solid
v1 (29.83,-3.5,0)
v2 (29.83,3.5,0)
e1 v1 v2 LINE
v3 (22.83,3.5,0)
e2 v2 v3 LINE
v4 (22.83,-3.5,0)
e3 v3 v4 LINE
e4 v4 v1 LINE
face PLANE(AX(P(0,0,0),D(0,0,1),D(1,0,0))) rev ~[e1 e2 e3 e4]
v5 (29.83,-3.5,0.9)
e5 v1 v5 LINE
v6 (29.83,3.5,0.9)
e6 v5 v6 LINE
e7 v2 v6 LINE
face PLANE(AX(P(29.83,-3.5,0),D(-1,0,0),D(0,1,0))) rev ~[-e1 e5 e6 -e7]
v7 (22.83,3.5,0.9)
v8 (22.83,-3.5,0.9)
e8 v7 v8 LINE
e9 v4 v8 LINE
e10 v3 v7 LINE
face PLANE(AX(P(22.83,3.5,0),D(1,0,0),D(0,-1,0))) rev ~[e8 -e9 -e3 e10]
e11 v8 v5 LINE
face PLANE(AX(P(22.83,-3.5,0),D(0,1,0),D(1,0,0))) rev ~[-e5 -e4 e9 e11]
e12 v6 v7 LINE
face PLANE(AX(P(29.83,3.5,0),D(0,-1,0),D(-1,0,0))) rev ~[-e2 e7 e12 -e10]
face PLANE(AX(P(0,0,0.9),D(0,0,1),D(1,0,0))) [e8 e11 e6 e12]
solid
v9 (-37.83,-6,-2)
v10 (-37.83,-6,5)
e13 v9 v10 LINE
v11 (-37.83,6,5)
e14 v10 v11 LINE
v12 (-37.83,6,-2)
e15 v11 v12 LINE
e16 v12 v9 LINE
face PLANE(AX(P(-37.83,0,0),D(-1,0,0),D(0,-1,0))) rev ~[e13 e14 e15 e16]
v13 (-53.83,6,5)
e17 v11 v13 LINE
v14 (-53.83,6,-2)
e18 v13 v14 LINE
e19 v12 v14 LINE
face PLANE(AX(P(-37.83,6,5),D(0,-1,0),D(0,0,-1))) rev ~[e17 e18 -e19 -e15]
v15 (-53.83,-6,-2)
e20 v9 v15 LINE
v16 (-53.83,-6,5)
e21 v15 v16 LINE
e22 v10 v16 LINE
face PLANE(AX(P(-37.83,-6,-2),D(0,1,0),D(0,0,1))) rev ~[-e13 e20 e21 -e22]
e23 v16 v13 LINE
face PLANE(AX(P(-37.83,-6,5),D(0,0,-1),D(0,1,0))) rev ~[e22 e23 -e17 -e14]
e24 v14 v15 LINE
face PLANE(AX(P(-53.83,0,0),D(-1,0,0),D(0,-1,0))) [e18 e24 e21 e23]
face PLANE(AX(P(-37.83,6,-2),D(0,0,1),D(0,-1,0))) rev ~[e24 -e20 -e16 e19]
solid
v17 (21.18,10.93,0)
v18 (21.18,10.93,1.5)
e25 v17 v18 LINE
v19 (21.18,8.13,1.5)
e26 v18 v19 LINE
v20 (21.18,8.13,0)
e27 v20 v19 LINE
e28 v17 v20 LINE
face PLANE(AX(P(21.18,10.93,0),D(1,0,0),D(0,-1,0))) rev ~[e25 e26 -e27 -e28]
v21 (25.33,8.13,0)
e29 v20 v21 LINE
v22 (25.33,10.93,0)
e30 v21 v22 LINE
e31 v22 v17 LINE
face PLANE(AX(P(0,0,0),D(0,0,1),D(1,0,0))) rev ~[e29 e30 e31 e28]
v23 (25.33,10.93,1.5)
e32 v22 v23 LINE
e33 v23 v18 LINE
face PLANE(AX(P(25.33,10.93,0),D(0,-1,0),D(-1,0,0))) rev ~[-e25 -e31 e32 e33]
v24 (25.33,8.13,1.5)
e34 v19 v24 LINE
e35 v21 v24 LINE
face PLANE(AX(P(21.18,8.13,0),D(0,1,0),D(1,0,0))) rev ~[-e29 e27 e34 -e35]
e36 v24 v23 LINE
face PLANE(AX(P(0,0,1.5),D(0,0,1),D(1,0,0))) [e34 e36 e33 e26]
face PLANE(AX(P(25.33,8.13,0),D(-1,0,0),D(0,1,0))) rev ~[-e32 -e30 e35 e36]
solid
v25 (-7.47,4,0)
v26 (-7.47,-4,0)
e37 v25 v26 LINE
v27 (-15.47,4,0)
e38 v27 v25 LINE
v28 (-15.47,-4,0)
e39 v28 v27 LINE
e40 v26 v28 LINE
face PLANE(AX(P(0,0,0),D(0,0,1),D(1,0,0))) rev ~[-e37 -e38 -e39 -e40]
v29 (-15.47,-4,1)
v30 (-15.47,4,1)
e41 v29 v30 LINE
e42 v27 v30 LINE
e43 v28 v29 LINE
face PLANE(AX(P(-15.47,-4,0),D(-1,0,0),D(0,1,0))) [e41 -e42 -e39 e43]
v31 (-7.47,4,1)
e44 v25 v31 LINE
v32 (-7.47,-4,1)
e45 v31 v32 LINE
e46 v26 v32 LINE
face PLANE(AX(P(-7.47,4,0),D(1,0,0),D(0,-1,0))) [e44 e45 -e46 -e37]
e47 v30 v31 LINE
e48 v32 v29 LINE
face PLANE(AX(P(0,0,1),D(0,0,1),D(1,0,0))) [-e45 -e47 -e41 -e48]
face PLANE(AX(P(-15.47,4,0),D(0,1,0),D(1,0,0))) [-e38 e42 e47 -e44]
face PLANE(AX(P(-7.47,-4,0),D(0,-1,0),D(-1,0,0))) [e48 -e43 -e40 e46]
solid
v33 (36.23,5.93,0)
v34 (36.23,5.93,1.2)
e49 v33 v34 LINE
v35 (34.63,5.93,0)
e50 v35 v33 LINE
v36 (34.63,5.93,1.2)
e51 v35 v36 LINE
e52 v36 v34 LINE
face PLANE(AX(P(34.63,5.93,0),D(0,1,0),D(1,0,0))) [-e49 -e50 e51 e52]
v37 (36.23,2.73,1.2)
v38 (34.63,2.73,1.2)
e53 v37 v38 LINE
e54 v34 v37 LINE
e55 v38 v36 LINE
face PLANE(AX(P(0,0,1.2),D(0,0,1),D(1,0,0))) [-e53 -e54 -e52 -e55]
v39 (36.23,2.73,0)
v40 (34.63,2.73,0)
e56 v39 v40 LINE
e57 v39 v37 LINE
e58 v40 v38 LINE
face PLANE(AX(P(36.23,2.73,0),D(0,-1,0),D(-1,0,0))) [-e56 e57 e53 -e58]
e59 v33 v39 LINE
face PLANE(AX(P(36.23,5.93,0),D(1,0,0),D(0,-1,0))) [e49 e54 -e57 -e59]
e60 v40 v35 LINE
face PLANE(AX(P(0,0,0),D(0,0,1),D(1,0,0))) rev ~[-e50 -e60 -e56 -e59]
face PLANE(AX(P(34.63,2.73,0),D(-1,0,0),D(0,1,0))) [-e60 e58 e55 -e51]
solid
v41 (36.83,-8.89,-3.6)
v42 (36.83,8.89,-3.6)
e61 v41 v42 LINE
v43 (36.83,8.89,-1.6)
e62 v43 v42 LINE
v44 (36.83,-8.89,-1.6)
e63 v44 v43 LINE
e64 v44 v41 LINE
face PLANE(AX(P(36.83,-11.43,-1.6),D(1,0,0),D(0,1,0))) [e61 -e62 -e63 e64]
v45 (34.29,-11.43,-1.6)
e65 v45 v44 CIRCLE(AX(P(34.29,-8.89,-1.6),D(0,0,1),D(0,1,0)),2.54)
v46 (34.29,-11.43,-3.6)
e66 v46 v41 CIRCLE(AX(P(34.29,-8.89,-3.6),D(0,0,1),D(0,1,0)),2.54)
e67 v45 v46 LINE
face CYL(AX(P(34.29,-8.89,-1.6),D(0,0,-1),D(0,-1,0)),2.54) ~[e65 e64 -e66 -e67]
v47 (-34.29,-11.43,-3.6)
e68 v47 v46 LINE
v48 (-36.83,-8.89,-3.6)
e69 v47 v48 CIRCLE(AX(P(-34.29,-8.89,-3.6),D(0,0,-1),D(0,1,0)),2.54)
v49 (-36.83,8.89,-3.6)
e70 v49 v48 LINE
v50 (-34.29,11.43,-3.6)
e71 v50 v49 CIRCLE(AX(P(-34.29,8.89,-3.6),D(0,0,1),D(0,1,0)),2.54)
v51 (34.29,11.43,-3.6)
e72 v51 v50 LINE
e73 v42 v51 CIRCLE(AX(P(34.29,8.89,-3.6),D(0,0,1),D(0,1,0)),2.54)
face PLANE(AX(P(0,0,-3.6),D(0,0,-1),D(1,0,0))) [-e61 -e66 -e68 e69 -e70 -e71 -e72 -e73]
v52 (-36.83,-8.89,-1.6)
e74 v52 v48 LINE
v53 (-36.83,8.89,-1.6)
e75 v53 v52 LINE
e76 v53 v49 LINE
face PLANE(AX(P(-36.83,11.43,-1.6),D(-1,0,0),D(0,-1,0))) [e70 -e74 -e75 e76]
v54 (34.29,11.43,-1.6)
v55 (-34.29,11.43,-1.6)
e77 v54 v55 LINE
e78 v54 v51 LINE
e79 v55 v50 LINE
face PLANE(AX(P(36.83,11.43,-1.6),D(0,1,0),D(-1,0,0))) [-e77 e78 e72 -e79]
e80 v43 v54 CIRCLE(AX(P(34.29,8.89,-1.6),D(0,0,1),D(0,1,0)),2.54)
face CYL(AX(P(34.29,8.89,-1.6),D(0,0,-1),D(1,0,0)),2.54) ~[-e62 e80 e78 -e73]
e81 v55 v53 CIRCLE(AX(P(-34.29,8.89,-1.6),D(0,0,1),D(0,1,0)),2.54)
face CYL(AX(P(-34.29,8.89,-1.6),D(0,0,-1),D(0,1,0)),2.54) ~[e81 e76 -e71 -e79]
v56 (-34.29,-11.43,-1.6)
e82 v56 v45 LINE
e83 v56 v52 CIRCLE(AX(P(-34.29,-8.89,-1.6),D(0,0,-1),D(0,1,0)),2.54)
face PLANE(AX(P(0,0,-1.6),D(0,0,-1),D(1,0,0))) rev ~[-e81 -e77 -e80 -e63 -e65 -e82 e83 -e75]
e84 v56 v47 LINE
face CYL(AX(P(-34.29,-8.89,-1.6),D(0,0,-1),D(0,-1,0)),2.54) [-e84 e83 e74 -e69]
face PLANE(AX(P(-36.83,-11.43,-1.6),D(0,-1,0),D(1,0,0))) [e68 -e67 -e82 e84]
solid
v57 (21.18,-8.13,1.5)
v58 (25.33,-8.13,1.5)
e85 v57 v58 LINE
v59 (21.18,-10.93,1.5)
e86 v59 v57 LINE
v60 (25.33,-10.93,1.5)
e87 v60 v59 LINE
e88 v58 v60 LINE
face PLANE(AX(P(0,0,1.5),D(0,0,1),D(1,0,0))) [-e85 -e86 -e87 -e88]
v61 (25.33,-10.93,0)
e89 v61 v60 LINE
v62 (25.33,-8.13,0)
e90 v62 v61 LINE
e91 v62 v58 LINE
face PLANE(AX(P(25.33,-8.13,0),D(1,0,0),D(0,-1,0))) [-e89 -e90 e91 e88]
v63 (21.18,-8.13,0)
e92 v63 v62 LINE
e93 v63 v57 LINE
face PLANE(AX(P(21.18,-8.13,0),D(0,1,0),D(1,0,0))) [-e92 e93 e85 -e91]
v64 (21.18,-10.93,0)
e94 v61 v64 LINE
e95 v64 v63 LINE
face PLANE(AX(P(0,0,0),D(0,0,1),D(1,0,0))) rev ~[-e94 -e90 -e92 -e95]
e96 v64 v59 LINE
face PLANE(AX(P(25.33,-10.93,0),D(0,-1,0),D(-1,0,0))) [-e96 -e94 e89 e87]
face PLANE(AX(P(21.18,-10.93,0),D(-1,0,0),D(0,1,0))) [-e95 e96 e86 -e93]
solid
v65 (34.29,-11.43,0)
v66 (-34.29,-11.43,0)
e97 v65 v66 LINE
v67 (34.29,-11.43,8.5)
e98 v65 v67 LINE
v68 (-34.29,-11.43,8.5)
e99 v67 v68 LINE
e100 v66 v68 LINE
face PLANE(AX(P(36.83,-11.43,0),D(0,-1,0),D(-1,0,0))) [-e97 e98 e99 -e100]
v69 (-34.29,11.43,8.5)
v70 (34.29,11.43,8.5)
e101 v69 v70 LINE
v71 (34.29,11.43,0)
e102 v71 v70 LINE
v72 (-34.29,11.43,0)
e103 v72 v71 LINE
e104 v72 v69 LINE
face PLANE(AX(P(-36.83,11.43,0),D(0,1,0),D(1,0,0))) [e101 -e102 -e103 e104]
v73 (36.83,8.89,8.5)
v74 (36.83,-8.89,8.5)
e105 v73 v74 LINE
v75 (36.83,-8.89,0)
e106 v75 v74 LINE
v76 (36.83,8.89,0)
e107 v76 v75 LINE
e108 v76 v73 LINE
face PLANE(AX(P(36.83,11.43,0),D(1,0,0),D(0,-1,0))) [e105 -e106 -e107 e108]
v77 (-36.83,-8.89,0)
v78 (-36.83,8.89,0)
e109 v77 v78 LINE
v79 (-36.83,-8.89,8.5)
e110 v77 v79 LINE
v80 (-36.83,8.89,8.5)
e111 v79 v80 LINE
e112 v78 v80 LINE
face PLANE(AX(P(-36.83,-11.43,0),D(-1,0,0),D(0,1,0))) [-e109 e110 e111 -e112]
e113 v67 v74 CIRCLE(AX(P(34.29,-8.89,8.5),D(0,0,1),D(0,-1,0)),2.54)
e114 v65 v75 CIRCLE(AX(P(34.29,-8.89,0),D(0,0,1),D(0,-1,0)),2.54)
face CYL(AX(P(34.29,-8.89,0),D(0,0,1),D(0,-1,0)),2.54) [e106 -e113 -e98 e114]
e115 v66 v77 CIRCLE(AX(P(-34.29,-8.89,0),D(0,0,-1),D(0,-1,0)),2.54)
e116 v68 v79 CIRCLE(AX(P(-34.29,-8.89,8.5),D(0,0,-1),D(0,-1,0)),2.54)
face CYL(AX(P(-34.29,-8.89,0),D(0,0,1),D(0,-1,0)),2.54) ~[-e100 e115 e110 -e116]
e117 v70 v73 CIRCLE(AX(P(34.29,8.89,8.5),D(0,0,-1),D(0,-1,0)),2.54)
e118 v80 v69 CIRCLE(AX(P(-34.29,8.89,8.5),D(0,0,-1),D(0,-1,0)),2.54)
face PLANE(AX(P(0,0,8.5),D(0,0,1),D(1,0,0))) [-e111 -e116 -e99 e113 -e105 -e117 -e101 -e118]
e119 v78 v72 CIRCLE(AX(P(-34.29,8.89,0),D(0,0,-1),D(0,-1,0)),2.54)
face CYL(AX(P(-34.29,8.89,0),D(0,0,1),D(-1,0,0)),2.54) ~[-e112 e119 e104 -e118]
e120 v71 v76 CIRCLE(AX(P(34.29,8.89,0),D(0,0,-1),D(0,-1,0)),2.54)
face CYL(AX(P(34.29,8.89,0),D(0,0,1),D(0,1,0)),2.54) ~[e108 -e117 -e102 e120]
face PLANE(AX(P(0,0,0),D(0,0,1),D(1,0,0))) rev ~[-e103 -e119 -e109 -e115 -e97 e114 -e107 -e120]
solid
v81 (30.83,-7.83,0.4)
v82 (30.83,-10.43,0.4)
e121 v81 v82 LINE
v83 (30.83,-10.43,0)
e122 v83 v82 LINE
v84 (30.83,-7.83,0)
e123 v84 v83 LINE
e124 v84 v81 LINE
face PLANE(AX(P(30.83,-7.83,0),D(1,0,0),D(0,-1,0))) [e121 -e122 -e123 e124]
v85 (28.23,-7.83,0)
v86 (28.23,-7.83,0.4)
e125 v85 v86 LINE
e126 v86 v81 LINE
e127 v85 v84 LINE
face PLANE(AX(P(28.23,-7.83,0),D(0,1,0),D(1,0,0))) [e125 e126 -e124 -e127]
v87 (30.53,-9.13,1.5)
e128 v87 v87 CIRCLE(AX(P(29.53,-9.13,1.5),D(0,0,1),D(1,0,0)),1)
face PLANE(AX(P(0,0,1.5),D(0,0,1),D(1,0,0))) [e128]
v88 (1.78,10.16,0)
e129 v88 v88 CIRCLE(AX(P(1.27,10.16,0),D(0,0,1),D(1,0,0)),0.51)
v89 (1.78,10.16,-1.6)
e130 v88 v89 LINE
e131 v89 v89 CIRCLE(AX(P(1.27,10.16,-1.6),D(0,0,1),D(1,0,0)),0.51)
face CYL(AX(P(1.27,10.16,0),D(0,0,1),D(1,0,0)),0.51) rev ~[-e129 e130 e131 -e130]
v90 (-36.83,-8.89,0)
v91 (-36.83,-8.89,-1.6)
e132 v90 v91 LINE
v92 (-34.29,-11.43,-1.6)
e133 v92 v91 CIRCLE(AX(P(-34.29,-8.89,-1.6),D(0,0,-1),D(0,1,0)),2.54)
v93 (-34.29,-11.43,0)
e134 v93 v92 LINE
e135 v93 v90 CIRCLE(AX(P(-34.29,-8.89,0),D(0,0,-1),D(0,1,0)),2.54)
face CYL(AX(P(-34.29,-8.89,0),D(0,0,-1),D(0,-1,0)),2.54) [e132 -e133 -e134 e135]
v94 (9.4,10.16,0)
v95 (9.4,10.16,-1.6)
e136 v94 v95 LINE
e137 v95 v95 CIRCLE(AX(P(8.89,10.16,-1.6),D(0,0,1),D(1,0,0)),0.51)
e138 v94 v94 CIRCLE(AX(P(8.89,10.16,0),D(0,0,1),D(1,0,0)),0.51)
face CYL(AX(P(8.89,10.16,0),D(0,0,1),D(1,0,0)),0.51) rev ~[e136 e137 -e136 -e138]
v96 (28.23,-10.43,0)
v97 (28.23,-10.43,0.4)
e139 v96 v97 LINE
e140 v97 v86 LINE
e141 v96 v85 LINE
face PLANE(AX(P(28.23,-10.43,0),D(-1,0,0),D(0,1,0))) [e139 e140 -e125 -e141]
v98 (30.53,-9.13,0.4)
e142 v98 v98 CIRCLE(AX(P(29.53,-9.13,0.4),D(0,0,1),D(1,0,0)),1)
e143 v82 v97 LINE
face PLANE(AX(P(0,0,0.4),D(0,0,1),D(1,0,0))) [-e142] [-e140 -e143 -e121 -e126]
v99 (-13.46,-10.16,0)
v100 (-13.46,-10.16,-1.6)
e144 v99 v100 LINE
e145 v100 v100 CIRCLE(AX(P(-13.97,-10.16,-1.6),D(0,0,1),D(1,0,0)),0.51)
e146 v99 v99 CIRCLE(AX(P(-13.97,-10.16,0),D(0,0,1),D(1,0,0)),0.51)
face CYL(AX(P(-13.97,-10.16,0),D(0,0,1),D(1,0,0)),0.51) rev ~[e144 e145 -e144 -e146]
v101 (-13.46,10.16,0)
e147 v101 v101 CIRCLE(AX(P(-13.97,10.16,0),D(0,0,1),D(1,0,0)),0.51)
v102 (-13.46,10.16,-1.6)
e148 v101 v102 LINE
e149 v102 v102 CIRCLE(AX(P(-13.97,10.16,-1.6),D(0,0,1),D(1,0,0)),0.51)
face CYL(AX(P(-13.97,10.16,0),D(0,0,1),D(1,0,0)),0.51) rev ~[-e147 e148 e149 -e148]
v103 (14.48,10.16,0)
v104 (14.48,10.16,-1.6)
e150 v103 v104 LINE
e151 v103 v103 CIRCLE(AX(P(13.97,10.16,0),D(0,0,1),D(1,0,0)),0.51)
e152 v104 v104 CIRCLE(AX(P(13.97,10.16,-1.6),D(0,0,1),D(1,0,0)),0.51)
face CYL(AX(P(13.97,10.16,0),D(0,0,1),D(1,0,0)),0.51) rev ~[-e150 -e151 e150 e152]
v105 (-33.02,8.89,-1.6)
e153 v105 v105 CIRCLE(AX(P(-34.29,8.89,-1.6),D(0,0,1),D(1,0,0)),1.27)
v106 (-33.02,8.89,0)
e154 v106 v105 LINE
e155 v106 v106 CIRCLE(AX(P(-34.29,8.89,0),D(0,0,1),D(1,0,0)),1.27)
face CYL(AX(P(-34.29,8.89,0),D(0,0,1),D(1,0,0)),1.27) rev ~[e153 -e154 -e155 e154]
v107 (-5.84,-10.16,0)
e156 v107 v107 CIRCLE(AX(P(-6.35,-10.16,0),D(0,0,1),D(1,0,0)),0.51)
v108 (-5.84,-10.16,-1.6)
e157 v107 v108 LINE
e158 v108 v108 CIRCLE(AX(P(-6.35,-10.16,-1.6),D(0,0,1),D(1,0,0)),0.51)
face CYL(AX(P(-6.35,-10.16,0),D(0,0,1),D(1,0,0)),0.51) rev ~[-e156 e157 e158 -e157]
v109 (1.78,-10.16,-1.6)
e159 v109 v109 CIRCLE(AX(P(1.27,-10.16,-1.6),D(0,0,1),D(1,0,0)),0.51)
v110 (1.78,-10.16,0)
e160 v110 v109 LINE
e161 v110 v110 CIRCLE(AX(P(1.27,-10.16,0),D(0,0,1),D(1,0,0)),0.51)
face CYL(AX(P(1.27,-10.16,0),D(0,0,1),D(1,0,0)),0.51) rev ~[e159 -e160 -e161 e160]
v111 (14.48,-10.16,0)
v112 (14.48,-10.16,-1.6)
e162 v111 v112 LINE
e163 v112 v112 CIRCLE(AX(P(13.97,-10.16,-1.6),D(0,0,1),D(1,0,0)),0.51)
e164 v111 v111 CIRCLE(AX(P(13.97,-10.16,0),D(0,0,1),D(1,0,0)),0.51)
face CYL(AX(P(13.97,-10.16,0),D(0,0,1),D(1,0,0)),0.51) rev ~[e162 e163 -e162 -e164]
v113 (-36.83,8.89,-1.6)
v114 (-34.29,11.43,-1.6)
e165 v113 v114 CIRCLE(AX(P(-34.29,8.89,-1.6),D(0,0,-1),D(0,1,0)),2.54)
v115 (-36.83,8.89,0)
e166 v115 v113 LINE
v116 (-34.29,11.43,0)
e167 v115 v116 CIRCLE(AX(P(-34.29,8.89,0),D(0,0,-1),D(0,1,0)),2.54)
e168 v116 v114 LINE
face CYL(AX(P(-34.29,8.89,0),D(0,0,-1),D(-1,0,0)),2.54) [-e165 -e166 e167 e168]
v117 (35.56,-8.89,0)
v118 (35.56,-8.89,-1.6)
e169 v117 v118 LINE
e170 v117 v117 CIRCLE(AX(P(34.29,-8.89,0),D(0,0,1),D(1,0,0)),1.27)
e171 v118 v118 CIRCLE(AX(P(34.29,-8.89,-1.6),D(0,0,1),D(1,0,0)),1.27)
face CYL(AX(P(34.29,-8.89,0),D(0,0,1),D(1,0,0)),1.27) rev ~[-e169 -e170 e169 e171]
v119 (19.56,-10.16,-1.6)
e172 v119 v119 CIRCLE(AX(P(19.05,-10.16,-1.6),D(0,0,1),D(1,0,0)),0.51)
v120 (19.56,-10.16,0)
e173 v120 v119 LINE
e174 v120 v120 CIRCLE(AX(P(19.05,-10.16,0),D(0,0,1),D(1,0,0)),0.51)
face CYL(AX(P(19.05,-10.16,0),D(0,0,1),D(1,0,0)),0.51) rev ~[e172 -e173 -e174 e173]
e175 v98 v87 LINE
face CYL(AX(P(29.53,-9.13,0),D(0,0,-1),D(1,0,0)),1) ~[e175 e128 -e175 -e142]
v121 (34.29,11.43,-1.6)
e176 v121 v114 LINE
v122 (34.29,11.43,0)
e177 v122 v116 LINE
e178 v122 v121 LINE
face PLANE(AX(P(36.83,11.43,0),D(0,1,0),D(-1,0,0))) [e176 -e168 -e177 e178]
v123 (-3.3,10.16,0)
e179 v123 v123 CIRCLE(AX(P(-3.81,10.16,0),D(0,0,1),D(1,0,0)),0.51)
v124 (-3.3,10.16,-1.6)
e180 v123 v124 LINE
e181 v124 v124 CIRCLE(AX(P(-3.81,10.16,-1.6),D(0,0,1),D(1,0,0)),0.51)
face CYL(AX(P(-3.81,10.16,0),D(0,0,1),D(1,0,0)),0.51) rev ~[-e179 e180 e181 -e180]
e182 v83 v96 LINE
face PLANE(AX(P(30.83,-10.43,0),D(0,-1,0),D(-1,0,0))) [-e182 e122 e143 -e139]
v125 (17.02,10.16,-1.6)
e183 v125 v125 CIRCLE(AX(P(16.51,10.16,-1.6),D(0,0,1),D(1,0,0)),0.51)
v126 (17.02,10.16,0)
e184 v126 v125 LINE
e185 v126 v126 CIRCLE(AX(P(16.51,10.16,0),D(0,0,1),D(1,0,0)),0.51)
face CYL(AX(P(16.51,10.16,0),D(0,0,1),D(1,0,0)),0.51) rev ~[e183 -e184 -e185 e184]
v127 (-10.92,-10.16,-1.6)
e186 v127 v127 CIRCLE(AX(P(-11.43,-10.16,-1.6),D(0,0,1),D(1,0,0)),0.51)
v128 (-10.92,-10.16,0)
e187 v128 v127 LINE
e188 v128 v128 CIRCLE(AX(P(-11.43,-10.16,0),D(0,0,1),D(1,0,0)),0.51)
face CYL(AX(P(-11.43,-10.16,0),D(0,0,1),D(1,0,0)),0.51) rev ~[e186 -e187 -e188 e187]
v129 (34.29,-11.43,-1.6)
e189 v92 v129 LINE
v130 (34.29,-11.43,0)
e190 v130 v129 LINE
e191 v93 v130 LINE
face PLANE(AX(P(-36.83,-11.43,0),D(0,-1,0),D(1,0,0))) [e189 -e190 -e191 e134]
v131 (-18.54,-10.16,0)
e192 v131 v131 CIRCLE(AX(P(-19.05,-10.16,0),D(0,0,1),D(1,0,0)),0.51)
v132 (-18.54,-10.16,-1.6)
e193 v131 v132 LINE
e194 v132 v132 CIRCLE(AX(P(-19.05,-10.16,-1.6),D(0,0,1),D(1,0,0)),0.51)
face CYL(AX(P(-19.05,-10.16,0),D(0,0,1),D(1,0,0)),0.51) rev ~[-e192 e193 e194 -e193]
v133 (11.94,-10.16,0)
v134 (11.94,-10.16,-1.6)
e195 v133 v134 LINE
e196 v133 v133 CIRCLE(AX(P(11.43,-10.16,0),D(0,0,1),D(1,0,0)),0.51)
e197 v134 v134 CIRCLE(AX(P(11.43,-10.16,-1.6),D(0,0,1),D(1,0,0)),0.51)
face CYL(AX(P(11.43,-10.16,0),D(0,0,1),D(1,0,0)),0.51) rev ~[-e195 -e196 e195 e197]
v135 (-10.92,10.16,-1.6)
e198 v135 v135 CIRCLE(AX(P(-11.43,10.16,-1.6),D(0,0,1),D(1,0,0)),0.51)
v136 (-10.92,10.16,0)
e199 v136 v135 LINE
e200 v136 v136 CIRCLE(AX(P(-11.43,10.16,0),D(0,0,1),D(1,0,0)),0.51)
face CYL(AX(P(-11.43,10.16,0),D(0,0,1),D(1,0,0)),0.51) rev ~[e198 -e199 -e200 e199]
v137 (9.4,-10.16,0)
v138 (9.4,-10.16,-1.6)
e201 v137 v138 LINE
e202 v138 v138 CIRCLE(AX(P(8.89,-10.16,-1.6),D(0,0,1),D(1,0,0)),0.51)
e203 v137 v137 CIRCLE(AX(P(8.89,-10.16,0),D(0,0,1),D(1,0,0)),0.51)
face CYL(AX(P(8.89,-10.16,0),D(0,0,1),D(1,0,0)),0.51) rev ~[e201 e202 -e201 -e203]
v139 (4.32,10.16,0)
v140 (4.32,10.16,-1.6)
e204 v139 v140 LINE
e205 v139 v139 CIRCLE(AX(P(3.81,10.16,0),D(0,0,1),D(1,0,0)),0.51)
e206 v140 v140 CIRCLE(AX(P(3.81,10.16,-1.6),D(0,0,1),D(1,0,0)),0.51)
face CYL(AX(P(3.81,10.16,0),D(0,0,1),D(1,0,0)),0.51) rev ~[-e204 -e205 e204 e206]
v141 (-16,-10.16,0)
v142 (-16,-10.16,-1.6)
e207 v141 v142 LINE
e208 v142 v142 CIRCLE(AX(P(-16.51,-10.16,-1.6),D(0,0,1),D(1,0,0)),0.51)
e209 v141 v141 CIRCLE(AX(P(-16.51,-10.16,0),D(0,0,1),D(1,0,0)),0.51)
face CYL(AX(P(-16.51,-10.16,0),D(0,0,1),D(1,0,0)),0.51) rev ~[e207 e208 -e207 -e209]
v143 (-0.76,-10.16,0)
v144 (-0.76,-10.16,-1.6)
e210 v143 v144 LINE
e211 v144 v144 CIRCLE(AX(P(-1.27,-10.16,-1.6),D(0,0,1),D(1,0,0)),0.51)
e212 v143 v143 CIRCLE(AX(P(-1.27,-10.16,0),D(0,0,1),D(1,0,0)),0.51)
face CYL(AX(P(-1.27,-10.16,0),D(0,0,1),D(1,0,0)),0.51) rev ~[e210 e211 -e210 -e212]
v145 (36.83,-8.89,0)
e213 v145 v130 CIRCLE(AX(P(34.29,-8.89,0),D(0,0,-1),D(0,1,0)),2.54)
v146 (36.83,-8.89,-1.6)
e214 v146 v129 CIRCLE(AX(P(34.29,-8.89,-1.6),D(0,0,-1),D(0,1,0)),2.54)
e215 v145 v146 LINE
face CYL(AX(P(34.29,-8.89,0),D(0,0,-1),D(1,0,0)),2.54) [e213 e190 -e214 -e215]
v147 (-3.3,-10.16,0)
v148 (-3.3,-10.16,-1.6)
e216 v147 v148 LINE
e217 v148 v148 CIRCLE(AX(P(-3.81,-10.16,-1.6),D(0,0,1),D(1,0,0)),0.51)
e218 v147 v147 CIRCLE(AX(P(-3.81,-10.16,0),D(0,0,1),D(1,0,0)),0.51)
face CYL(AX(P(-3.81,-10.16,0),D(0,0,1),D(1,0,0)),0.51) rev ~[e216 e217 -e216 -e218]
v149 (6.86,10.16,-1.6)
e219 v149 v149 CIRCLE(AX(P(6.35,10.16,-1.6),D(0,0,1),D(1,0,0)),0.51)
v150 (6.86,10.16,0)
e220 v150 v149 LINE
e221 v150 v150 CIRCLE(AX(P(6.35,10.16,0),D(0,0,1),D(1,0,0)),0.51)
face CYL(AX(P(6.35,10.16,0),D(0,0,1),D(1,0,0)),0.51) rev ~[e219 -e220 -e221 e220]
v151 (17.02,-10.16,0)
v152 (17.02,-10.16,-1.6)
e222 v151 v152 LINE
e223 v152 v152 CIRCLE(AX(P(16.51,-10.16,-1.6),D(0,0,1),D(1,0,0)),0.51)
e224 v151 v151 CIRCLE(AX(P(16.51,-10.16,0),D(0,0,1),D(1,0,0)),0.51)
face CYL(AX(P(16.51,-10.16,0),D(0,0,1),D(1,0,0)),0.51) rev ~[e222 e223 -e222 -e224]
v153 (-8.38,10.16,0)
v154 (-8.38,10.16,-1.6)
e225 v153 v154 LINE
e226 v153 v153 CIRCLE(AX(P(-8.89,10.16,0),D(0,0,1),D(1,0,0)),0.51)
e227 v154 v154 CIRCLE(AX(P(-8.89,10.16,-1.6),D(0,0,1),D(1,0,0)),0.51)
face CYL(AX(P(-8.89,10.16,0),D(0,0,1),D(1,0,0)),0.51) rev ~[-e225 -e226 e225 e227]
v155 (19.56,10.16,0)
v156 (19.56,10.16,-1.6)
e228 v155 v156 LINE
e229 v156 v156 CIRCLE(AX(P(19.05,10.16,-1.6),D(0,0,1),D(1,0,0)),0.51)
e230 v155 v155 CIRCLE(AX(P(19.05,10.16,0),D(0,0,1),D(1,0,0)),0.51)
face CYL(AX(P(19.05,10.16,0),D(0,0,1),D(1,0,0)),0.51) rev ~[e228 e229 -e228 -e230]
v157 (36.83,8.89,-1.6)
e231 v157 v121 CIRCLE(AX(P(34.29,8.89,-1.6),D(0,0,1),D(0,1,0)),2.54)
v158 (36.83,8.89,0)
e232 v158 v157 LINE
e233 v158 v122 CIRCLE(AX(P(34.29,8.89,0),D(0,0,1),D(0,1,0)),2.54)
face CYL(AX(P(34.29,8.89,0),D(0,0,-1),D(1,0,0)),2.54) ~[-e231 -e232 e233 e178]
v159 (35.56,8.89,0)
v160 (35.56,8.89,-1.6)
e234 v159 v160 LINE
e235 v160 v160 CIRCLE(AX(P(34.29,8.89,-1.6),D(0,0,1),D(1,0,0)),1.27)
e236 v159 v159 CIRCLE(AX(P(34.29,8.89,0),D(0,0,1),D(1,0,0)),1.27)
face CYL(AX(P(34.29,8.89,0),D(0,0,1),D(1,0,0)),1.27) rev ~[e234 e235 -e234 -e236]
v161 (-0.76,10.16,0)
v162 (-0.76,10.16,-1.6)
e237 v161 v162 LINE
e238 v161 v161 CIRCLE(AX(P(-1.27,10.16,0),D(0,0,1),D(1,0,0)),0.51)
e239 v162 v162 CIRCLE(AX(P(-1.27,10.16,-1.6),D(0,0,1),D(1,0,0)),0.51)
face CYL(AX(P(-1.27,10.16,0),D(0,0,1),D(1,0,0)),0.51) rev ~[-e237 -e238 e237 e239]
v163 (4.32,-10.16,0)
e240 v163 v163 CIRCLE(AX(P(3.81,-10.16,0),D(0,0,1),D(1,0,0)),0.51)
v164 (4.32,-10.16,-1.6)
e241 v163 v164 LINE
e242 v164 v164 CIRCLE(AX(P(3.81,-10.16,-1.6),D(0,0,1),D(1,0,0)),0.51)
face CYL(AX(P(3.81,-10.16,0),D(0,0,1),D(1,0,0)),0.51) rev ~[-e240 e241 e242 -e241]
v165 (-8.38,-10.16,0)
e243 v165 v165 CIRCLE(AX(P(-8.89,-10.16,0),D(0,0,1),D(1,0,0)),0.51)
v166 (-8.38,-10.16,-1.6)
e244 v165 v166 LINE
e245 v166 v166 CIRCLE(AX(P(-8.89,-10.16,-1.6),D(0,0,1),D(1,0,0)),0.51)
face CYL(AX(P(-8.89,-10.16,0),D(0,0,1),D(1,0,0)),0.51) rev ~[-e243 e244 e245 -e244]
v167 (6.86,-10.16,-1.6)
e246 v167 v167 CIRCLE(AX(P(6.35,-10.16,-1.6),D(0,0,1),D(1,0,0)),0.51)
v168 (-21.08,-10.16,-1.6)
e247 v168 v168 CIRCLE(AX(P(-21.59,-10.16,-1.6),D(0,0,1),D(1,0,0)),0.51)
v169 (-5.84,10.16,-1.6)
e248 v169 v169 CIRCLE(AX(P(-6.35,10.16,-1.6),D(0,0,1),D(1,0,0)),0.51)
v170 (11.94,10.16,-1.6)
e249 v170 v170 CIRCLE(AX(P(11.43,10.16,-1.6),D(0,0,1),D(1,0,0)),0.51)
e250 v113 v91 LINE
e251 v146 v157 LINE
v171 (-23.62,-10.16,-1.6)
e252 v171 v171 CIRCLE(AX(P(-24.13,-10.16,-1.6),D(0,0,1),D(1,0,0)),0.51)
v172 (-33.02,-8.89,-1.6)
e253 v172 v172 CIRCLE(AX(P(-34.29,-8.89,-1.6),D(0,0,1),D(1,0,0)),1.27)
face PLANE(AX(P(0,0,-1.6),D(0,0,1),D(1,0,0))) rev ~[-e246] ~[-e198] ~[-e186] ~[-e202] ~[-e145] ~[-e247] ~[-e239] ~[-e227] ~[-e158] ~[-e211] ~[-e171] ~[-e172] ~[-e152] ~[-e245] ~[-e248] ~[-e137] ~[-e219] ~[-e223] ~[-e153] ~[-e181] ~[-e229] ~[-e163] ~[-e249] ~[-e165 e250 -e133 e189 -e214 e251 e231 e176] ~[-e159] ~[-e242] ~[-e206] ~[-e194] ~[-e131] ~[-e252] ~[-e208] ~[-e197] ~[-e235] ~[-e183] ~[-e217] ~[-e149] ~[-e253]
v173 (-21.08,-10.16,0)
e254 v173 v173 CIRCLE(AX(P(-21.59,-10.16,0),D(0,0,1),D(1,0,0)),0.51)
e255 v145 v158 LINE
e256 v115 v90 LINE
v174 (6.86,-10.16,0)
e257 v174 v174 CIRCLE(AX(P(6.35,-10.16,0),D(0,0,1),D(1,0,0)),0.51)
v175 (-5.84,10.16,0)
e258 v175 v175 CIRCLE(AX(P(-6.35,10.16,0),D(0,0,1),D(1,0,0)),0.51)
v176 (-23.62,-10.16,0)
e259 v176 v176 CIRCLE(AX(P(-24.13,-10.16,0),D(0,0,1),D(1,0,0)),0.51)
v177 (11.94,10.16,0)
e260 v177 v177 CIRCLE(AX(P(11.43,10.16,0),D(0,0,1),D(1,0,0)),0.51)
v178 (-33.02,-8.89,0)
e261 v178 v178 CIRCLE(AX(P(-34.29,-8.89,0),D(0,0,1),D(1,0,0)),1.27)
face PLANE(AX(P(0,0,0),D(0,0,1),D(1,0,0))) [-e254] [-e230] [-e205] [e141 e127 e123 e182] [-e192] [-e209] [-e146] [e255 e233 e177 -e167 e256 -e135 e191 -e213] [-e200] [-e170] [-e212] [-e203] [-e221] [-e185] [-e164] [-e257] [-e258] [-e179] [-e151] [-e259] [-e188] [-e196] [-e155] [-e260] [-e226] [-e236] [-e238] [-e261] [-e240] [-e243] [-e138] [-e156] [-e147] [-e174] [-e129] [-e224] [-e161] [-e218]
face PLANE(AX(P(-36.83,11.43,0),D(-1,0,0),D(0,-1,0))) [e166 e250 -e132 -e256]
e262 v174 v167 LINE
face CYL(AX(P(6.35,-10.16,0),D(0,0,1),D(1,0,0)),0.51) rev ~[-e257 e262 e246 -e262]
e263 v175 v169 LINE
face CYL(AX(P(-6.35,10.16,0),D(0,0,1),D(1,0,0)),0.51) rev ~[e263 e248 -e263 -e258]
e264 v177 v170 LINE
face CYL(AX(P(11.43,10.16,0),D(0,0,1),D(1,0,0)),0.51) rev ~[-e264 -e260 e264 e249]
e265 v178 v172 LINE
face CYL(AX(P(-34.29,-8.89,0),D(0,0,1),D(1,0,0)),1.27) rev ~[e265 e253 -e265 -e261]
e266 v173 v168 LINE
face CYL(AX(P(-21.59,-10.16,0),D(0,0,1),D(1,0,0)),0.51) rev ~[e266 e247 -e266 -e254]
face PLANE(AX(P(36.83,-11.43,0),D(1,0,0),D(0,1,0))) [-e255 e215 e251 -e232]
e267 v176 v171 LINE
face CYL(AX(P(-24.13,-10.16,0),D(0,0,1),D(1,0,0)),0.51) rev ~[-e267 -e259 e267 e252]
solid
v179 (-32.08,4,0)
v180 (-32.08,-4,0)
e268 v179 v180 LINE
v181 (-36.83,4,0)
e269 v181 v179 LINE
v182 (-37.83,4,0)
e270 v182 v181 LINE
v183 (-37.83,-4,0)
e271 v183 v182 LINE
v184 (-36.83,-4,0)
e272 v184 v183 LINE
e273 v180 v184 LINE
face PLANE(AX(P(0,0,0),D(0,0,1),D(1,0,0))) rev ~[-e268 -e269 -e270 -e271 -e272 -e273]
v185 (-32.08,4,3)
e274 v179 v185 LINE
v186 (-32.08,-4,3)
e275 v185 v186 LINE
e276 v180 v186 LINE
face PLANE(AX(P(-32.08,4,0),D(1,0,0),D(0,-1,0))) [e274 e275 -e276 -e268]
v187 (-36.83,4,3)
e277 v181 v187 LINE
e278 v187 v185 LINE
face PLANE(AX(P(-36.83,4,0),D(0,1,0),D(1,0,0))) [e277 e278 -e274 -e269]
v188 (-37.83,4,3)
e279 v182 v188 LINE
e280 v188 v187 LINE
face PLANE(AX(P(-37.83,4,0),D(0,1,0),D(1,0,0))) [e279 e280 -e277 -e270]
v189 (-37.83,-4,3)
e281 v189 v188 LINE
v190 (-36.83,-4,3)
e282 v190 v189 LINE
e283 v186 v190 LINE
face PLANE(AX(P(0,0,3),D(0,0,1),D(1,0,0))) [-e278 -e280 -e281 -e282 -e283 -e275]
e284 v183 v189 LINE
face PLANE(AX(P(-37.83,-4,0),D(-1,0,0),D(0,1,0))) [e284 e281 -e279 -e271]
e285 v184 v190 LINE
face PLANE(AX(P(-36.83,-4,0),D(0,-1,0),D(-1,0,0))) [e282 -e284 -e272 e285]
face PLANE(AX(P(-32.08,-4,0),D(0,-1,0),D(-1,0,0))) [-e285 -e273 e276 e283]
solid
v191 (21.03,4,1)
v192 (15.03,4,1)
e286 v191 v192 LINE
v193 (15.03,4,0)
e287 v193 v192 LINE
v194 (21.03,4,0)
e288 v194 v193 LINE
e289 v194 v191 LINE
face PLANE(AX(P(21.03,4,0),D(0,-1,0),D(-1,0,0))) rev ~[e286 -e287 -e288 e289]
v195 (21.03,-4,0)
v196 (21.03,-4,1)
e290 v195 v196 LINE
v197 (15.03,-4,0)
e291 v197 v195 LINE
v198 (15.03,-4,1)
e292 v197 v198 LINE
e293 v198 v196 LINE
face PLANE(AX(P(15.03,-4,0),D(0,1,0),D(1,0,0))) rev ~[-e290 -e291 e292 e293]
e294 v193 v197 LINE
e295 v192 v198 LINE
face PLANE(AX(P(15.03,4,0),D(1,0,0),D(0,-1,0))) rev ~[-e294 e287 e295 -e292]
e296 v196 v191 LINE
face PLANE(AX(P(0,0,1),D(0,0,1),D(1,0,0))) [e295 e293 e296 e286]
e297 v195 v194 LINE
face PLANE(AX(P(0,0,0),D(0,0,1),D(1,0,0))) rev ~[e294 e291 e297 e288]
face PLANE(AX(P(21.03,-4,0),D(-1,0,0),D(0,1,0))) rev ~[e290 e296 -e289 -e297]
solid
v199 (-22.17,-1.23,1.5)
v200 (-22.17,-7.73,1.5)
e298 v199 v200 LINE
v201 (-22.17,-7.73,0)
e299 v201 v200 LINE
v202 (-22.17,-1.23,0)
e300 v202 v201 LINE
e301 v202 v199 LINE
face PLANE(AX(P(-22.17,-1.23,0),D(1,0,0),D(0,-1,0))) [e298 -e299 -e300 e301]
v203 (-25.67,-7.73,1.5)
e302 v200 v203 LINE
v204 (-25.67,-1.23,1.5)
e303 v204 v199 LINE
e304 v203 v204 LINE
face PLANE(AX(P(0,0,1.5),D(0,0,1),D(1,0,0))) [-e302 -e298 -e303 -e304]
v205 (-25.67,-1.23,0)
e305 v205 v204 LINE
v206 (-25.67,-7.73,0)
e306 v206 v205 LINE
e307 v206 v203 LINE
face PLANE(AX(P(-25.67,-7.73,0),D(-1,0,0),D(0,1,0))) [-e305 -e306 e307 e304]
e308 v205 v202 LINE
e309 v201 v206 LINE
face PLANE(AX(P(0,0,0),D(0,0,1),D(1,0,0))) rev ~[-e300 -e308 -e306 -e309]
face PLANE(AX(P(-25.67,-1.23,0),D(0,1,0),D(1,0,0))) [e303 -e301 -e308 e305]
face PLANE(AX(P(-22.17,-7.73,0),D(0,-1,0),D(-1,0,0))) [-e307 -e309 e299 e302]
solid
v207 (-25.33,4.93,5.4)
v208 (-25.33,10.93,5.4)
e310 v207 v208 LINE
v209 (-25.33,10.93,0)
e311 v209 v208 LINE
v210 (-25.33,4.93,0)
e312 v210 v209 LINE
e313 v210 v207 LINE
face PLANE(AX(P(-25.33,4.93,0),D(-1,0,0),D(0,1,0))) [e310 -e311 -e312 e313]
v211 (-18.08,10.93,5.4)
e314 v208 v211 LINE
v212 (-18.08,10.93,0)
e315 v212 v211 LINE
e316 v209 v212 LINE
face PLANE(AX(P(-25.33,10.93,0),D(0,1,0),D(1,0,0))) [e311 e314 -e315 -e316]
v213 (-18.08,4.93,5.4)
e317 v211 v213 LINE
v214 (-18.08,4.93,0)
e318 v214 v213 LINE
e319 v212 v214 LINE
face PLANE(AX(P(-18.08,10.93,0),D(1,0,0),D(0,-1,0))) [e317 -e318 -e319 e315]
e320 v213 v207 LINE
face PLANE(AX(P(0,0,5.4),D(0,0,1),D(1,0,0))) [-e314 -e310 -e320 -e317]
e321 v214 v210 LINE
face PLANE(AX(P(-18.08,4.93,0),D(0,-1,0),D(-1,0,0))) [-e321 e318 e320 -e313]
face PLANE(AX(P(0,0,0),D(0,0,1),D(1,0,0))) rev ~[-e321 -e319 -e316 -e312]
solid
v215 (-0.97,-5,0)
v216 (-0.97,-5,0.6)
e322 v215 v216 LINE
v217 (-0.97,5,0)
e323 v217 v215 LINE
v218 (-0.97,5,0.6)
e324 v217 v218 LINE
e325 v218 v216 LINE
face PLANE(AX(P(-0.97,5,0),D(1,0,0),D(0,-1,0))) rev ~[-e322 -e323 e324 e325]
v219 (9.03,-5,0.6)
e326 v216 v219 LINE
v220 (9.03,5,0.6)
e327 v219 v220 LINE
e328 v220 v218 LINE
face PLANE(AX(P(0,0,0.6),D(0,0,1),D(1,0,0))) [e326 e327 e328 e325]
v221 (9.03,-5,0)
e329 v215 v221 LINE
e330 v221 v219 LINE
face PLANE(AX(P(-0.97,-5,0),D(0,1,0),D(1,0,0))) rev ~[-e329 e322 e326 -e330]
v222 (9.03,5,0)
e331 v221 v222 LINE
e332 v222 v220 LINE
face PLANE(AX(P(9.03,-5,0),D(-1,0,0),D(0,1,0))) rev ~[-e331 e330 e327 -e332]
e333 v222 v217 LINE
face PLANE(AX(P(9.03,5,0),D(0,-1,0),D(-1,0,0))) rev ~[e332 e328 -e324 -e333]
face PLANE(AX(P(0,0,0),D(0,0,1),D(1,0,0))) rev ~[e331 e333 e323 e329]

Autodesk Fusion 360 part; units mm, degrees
sketch "PCB" plane through (0, 0, 0) normal (0, 0, 1) x (1, 0, 0) in component "Meadow_F7_Micro"
  line L0 (36.83, 11.43) -> (-36.83, 11.43)
  line L1 (-36.83, 11.43) -> (-36.83, -11.43)
  line L2 (-36.83, -11.43) -> (36.83, -11.43)
  line L3 (36.83, -11.43) -> (36.83, 11.43)
  line L4 (36.83, 11.43) -> (-36.83, -11.43) construction
  line L5 (-36.83, 11.43) -> (36.83, -11.43) construction
  circle A0 centre (-34.29, 8.89) radius 1.27
  circle A1 centre (-34.29, -8.89) radius 1.27
  line L6 (-36.83, 0) -> (36.83, 0) construction
  circle A2 centre (34.29, 8.89) radius 1.27
  circle A3 centre (34.29, -8.89) radius 1.27
  line L7 (0, 11.43) -> (0, -11.43) construction
  circle A4 centre (-13.97, 10.16) radius 0.51
  circle A5 centre (-11.43, 10.16) radius 0.51
  circle A6 centre (-8.89, 10.16) radius 0.51
  circle A7 centre (-6.35, 10.16) radius 0.51
  circle A8 centre (-3.81, 10.16) radius 0.51
  circle A9 centre (-1.27, 10.16) radius 0.51
  circle A10 centre (1.27, 10.16) radius 0.51
  circle A11 centre (3.81, 10.16) radius 0.51
  circle A12 centre (6.35, 10.16) radius 0.51
  circle A13 centre (8.89, 10.16) radius 0.51
  circle A14 centre (11.43, 10.16) radius 0.51
  circle A15 centre (13.97, 10.16) radius 0.51
  circle A16 centre (16.51, 10.16) radius 0.51
  circle A17 centre (19.05, 10.16) radius 0.51
  circle A18 centre (-24.13, -10.16) radius 0.51
  circle A19 centre (-21.59, -10.16) radius 0.51
  circle A20 centre (-19.05, -10.16) radius 0.51
  circle A21 centre (-16.51, -10.16) radius 0.51
  circle A22 centre (-13.97, -10.16) radius 0.51
  circle A23 centre (-11.43, -10.16) radius 0.51
  circle A24 centre (-8.89, -10.16) radius 0.51
  circle A25 centre (-6.35, -10.16) radius 0.51
  circle A26 centre (-3.81, -10.16) radius 0.51
  circle A27 centre (-1.27, -10.16) radius 0.51
  circle A28 centre (1.27, -10.16) radius 0.51
  circle A29 centre (3.81, -10.16) radius 0.51
  circle A30 centre (6.35, -10.16) radius 0.51
  circle A31 centre (8.89, -10.16) radius 0.51
  circle A32 centre (11.43, -10.16) radius 0.51
  circle A33 centre (13.97, -10.16) radius 0.51
  circle A34 centre (16.51, -10.16) radius 0.51
  circle A35 centre (19.05, -10.16) radius 0.51
  dimension "d1" = 73.66
  dimension "d2" = 22.86
  dimension "d3" = 2.54
  dimension "d4" = 2.54
  dimension "d5" = 2.54
  dimension "d7" = 2.54
  dimension "d8" = 1.02
  dimension "d9" = 20.32
  dimension "d10" = 1.27
  dimension "d13" = 2.54
  dimension "d14" = 0
  dimension "d15" = 1.02
  dimension "d16" = 10.16
  dimension "d17" = 1.27
  dimension "d20" = 2.54
  dimension "d21" = 0
extrude "Extrude1" add sketch "PCB" against normal blind 1.6 makes body 1 in component "Meadow_F7_Micro"
fillet "Fillet1" radius 2.54 4 edges at (-36.83, 11.43, -0.8) (-36.83, -11.43, -0.8) (36.83, -11.43, -0.8) (36.83, 11.43, -0.8) on bodies 1 in component "Meadow_F7_Micro"
sketch "Sketch4" plane through (0, 0, 0) normal (0, 0, 1) x (1, 0, 0) in component "Meadow_F7_Micro"
  line L0 (-36.83, 0) -> (36.83, 0) construction
  line L1 (-25.33, 10.93) -> (-18.08, 10.93)
  line L2 (-18.08, 10.93) -> (-18.08, 4.93)
  line L3 (-18.08, 4.93) -> (-25.33, 4.93)
  line L4 (-25.33, 4.93) -> (-25.33, 10.93)
  line L5 (-36.83, 11.43) -> (-36.83, -11.43)
  line L6 (36.83, 11.43) -> (-36.83, 11.43)
  line L7 (9.03, 5) -> (-0.97, 5)
  line L8 (-0.97, 5) -> (-0.97, -5)
  line L9 (-0.97, -5) -> (9.03, -5)
  line L10 (9.03, -5) -> (9.03, 5)
  line L11 (9.03, 5) -> (-0.97, -5) construction
  line L12 (-0.97, 5) -> (9.03, -5) construction
  line L13 (36.83, -11.43) -> (36.83, 11.43)
  line L14 (21.03, 4) -> (15.03, 4)
  line L15 (15.03, 4) -> (15.03, -4)
  line L16 (15.03, -4) -> (21.03, -4)
  line L17 (21.03, -4) -> (21.03, 4)
  line L18 (21.03, 4) -> (15.03, -4) construction
  line L19 (15.03, 4) -> (21.03, -4) construction
  line L20 (29.83, 3.5) -> (22.83, 3.5)
  line L21 (22.83, 3.5) -> (22.83, -3.5)
  line L22 (22.83, -3.5) -> (29.83, -3.5)
  line L23 (29.83, -3.5) -> (29.83, 3.5)
  line L24 (29.83, 3.5) -> (22.83, -3.5) construction
  line L25 (22.83, 3.5) -> (29.83, -3.5) construction
  line L26 (-7.47, -4) -> (-15.47, -4)
  line L27 (-15.47, -4) -> (-15.47, 4)
  line L28 (-15.47, 4) -> (-7.47, 4)
  line L29 (-7.47, 4) -> (-7.47, -4)
  line L30 (-7.47, -4) -> (-15.47, 4) construction
  line L31 (-15.47, -4) -> (-7.47, 4) construction
  line L32 (-22.17, -7.73) -> (-25.67, -7.73)
  line L33 (-25.67, -7.73) -> (-25.67, -1.23)
  line L34 (-25.67, -1.23) -> (-22.17, -1.23)
  line L35 (-22.17, -1.23) -> (-22.17, -7.73)
  line L36 (-22.17, -7.73) -> (-25.67, -1.23) construction
  line L37 (-25.67, -7.73) -> (-22.17, -1.23) construction
  line L38 (-36.83, -11.43) -> (36.83, -11.43)
  line L39 (-32.08, -4) -> (-37.83, -4)
  line L40 (-37.83, -4) -> (-37.83, 4)
  line L41 (-37.83, 4) -> (-32.08, 4)
  line L42 (-32.08, 4) -> (-32.08, -4)
  line L43 (-32.08, -4) -> (-37.83, 4) construction
  line L44 (-37.83, -4) -> (-32.08, 4) construction
  line L45 (34.63, 5.93) -> (36.23, 5.93)
  line L46 (36.23, 5.93) -> (36.23, 2.73)
  line L47 (36.23, 2.73) -> (34.63, 2.73)
  line L48 (34.63, 2.73) -> (34.63, 5.93)
  line L49 (28.23, -7.83) -> (30.83, -7.83)
  line L50 (30.83, -7.83) -> (30.83, -10.43)
  line L51 (30.83, -10.43) -> (28.23, -10.43)
  line L52 (28.23, -10.43) -> (28.23, -7.83)
  line L53 (21.18, 8.13) -> (25.33, 8.13)
  line L54 (25.33, 8.13) -> (25.33, 10.93)
  line L55 (25.33, 10.93) -> (21.18, 10.93)
  line L56 (21.18, 10.93) -> (21.18, 8.13)
  line L57 (21.18, -8.13) -> (25.33, -8.13)
  line L58 (25.33, -8.13) -> (25.33, -10.93)
  line L59 (25.33, -10.93) -> (21.18, -10.93)
  line L60 (21.18, -10.93) -> (21.18, -8.13)
  circle A0 centre (29.53, -9.13) radius 1
  point P0 (4.03, 0)
  point P1 (18.03, 0)
  point P2 (26.33, 0)
  point P3 (-11.47, 0)
  point P4 (-23.92, -4.48)
  point P5 (-34.955, 0)
  dimension "d25" = 7.25
  dimension "d26" = 6
  dimension "d27" = 11.5
  dimension "d28" = 0.5
  dimension "d29" = 10
  dimension "d30" = 10
  dimension "d31" = 27.8
  dimension "d32" = 6
  dimension "d33" = 8
  dimension "d34" = 6
  dimension "d35" = 7
  dimension "d36" = 7
  dimension "d37" = 1.8
  dimension "d38" = 8
  dimension "d39" = 8
  dimension "d40" = 6.5
  dimension "d41" = 3.5
  dimension "d42" = 6.5
  dimension "d43" = 3.7
  dimension "d44" = 6.7
  dimension "d45" = 5.75
  dimension "d46" = 8
  dimension "d47" = 4.75
  dimension "d48" = 1.6
  dimension "d49" = 3.2
  dimension "d50" = 5.5
  dimension "d51" = 0.6
  dimension "d52" = 2.6
  dimension "d53" = 2.6
  dimension "d54" = 1
  dimension "d55" = 6
  dimension "d56" = 4.15
  dimension "d57" = 2.8
  dimension "d58" = 11.5
  dimension "d59" = 0.5
  dimension "d60" = 4.15
  dimension "d61" = 2.8
  dimension "d62" = 11.5
  dimension "d63" = 0.5
  dimension "d64" = 2
extrude "Extrude2" add sketch "Sketch4" along normal blind 1 separate body contours L26 L27 L28 L29 makes body 2 in component "Meadow_F7_Micro"
extrude "Extrude3" add sketch "Sketch4" along normal blind 0.6 separate body contours L7 L8 L9 L10 makes body 3 in component "Meadow_F7_Micro"
extrude "Extrude4" add sketch "Sketch4" along normal blind 1 separate body contours L14 L15 L16 L17 makes body 4 in component "Meadow_F7_Micro"
extrude "Extrude5" add sketch "Sketch4" along normal blind 0.9 separate body contours L20 L21 L22 L23 makes body 5 in component "Meadow_F7_Micro"
extrude "Extrude6" add sketch "Sketch4" along normal blind 1.2 separate body contours L45 L46 L47 L48 makes body 6 in component "Meadow_F7_Micro"
extrude "Extrude7" add sketch "Sketch4" along normal blind 5.4 separate body contours L1 L2 L3 L4 makes body 7 in component "Meadow_F7_Micro"
extrude "Extrude8" add sketch "Sketch4" along normal blind 3 separate body contours L5 L39 L41 L42 | L5 L39 L40 L41 makes body 8 in component "Meadow_F7_Micro"
extrude "Extrude9" add sketch "Sketch4" along normal blind 1.5 separate body contours L32 L33 L34 L35 makes body 9 in component "Meadow_F7_Micro"
extrude "Extrude10" add sketch "Sketch4" along normal blind 0.4 separate body contours L49 L50 L51 L52 makes body 10 in component "Meadow_F7_Micro"
extrude "Extrude11" add sketch "Sketch4" along normal blind 1.5 contours A0 bodies 1 7 9 8 10 in component "Meadow_F7_Micro"
extrude "Extrude12" add sketch "Sketch4" along normal blind 1.5 separate body contours L53 L54 L55 L56 makes body 11 in component "Meadow_F7_Micro"
extrude "Extrude13" add sketch "Sketch4" along normal blind 1.5 separate body contours L57 L58 L59 L60 makes body 12 in component "Meadow_F7_Micro"
sketch "Sketch1" plane through (0, 0, -1.6) normal (0, 0, -1) x (1, 0, 0)
  arc A0 (34.29, -11.43) -> (36.83, -8.89) centre (34.29, -8.89) ccw
  line L0 (36.83, -8.89) -> (36.83, 8.89)
  arc A1 (36.83, 8.89) -> (34.29, 11.43) centre (34.29, 8.89) ccw
  line L1 (34.29, 11.43) -> (-34.29, 11.43)
  arc A2 (-34.29, 11.43) -> (-36.83, 8.89) centre (-34.29, 8.89) ccw
  line L2 (-36.83, 8.89) -> (-36.83, -8.89)
  arc A3 (-36.83, -8.89) -> (-34.29, -11.43) centre (-34.29, -8.89) ccw
  line L3 (-34.29, -11.43) -> (34.29, -11.43)
  circle A4 centre (-3.81, 10.16) radius 0.51
  circle A5 centre (11.43, -10.16) radius 0.51
  circle A6 centre (-19.05, 10.16) radius 0.51
  circle A7 centre (19.05, -10.16) radius 0.51
  circle A8 centre (34.29, 8.89) radius 1.27
  circle A9 centre (11.43, 10.16) radius 0.51
  circle A10 centre (-24.13, 10.16) radius 0.51
  circle A11 centre (-8.89, 10.16) radius 0.51
  circle A12 centre (-21.59, 10.16) radius 0.51
  circle A13 centre (6.35, 10.16) radius 0.51
  circle A14 centre (-34.29, -8.89) radius 1.27
  circle A15 centre (-34.29, 8.89) radius 1.27
  circle A16 centre (16.51, -10.16) radius 0.51
  circle A17 centre (-11.43, -10.16) radius 0.51
  circle A18 centre (-11.43, 10.16) radius 0.51
  circle A19 centre (-13.97, -10.16) radius 0.51
  circle A20 centre (13.97, -10.16) radius 0.51
  circle A21 centre (-8.89, -10.16) radius 0.51
  circle A22 centre (16.51, 10.16) radius 0.51
  circle A23 centre (1.27, 10.16) radius 0.51
  circle A24 centre (-6.35, 10.16) radius 0.51
  circle A25 centre (13.97, 10.16) radius 0.51
  circle A26 centre (6.35, -10.16) radius 0.51
  circle A27 centre (8.89, 10.16) radius 0.51
  circle A28 centre (-13.97, 10.16) radius 0.51
  circle A29 centre (19.05, 10.16) radius 0.51
  circle A30 centre (-16.51, 10.16) radius 0.51
  circle A31 centre (-1.27, 10.16) radius 0.51
  circle A32 centre (8.89, -10.16) radius 0.51
  circle A33 centre (3.81, 10.16) radius 0.51
  circle A34 centre (34.29, -8.89) radius 1.27
  circle A35 centre (1.27, -10.16) radius 0.51
  circle A36 centre (-6.35, -10.16) radius 0.51
  circle A37 centre (-3.81, -10.16) radius 0.51
  circle A38 centre (3.81, -10.16) radius 0.51
  circle A39 centre (-1.27, -10.16) radius 0.51
  point P0 (34.29, 8.89)
sketch "Sketch1 (2)" plane through (0, 0, -1.6) normal (0, 0, -1) x (1, 0, 0) in component "Clearance"
  line L0 (-36.83, 11.43) -> (36.83, 11.43)
  line L1 (36.83, 11.43) -> (36.83, -11.43)
  line L2 (36.83, -11.43) -> (-36.83, -11.43)
  line L3 (-36.83, -11.43) -> (-36.83, 11.43)
  point P0 (-36.83, 11.43)
  point P1 (36.83, -11.43)
extrude "Extrude1'" add sketch "Sketch1 (2)" along normal blind 2 separate body makes body 13 in component "Clearance"
fillet "Fillet1'" radius 2.54 4 edges at (-36.83, -11.43, -2.6) (36.83, -11.43, -2.6) (36.83, 11.43, -2.6) (-36.83, 11.43, -2.6) on bodies 13 in component "Clearance"
sketch "Sketch2" plane through (-37.83, 0, 0) normal (-1, 0, 0) x (0, -1, 0) in component "Clearance"
  line L0 (-4, 0) -> (4, 0)
  line L1 (4, 0) -> (4, 3)
  line L2 (4, 3) -> (-4, 3)
  line L3 (-4, 3) -> (-4, 0)
  line L4 (0, 3) -> (0, 0) construction
  line L5 (-4, 1.5) -> (4, 1.5) construction
  line L6 (6, 5) -> (-6, 5)
  line L7 (-6, 5) -> (-6, -2)
  line L8 (-6, -2) -> (6, -2)
  line L9 (6, -2) -> (6, 5)
  line L10 (6, 5) -> (-6, -2) construction
  line L11 (-6, 5) -> (6, -2) construction
  point P0 (0, 1.5)
  dimension "d96" = 12
  dimension "d97" = 7
extrude "Extrude2'" add sketch "Sketch2" along normal blind 16 separate body contours L0 L1 L2 L3 | L6 L7 L8 L9 makes body 14 in component "Clearance"
sketch "Sketch3" plane through (0, 0, -3.6) normal (0, 0, -1) x (1, 0, 0) in component "Clearance"
  arc A0 (-36.83, -8.89) -> (-34.29, -11.43) centre (-34.29, -8.89) ccw
  line L0 (-34.29, -11.43) -> (34.29, -11.43)
  arc A1 (34.29, -11.43) -> (36.83, -8.89) centre (34.29, -8.89) ccw
  line L1 (36.83, -8.89) -> (36.83, 8.89)
  arc A2 (36.83, 8.89) -> (34.29, 11.43) centre (34.29, 8.89) ccw
  line L2 (34.29, 11.43) -> (-34.29, 11.43)
  arc A3 (-34.29, 11.43) -> (-36.83, 8.89) centre (-34.29, 8.89) ccw
  line L3 (-36.83, 8.89) -> (-36.83, -8.89)
  point P0 (-34.29, 8.89)
  point P1 (-34.29, -8.89)
  point P2 (34.29, 8.89)
  point P3 (34.29, -8.89)
sketch "Sketch4 (2)" plane through (0, 0, 0) normal (0, 0, 1) x (1, 0, 0) in component "Clearance"
  line L0 (36.83, -11.43) -> (-36.83, -11.43)
  line L1 (-36.83, -11.43) -> (-36.83, 11.43)
  line L2 (-36.83, 11.43) -> (36.83, 11.43)
  line L3 (36.83, 11.43) -> (36.83, -11.43)
  point P0 (-36.83, 11.43)
  point P1 (36.83, -11.43)
extrude "Extrude3'" add sketch "Sketch4 (2)" along normal blind 8.5 separate body makes body 15 in component "Clearance"
fillet "Fillet2" radius 2.54 4 edges at (-36.83, -11.43, 4.25) (36.83, -11.43, 4.25) (-36.83, 11.43, 4.25) (36.83, 11.43, 4.25) on bodies 15 in component "Clearance"
component "Meadow_F7_Micro" placed x (1, 0, 0) y (0, 1, 0) z (0, 0, 1) at (0, 0, 0)
component "Clearance" placed x (1, 0, 0) y (0, 1, 0) z (0, 0, 1) at (0, 0, 0)
equation "d7 = d3"
equation "d17 = d10"
equation "d62 = d58"
equation "d63 = d59"
